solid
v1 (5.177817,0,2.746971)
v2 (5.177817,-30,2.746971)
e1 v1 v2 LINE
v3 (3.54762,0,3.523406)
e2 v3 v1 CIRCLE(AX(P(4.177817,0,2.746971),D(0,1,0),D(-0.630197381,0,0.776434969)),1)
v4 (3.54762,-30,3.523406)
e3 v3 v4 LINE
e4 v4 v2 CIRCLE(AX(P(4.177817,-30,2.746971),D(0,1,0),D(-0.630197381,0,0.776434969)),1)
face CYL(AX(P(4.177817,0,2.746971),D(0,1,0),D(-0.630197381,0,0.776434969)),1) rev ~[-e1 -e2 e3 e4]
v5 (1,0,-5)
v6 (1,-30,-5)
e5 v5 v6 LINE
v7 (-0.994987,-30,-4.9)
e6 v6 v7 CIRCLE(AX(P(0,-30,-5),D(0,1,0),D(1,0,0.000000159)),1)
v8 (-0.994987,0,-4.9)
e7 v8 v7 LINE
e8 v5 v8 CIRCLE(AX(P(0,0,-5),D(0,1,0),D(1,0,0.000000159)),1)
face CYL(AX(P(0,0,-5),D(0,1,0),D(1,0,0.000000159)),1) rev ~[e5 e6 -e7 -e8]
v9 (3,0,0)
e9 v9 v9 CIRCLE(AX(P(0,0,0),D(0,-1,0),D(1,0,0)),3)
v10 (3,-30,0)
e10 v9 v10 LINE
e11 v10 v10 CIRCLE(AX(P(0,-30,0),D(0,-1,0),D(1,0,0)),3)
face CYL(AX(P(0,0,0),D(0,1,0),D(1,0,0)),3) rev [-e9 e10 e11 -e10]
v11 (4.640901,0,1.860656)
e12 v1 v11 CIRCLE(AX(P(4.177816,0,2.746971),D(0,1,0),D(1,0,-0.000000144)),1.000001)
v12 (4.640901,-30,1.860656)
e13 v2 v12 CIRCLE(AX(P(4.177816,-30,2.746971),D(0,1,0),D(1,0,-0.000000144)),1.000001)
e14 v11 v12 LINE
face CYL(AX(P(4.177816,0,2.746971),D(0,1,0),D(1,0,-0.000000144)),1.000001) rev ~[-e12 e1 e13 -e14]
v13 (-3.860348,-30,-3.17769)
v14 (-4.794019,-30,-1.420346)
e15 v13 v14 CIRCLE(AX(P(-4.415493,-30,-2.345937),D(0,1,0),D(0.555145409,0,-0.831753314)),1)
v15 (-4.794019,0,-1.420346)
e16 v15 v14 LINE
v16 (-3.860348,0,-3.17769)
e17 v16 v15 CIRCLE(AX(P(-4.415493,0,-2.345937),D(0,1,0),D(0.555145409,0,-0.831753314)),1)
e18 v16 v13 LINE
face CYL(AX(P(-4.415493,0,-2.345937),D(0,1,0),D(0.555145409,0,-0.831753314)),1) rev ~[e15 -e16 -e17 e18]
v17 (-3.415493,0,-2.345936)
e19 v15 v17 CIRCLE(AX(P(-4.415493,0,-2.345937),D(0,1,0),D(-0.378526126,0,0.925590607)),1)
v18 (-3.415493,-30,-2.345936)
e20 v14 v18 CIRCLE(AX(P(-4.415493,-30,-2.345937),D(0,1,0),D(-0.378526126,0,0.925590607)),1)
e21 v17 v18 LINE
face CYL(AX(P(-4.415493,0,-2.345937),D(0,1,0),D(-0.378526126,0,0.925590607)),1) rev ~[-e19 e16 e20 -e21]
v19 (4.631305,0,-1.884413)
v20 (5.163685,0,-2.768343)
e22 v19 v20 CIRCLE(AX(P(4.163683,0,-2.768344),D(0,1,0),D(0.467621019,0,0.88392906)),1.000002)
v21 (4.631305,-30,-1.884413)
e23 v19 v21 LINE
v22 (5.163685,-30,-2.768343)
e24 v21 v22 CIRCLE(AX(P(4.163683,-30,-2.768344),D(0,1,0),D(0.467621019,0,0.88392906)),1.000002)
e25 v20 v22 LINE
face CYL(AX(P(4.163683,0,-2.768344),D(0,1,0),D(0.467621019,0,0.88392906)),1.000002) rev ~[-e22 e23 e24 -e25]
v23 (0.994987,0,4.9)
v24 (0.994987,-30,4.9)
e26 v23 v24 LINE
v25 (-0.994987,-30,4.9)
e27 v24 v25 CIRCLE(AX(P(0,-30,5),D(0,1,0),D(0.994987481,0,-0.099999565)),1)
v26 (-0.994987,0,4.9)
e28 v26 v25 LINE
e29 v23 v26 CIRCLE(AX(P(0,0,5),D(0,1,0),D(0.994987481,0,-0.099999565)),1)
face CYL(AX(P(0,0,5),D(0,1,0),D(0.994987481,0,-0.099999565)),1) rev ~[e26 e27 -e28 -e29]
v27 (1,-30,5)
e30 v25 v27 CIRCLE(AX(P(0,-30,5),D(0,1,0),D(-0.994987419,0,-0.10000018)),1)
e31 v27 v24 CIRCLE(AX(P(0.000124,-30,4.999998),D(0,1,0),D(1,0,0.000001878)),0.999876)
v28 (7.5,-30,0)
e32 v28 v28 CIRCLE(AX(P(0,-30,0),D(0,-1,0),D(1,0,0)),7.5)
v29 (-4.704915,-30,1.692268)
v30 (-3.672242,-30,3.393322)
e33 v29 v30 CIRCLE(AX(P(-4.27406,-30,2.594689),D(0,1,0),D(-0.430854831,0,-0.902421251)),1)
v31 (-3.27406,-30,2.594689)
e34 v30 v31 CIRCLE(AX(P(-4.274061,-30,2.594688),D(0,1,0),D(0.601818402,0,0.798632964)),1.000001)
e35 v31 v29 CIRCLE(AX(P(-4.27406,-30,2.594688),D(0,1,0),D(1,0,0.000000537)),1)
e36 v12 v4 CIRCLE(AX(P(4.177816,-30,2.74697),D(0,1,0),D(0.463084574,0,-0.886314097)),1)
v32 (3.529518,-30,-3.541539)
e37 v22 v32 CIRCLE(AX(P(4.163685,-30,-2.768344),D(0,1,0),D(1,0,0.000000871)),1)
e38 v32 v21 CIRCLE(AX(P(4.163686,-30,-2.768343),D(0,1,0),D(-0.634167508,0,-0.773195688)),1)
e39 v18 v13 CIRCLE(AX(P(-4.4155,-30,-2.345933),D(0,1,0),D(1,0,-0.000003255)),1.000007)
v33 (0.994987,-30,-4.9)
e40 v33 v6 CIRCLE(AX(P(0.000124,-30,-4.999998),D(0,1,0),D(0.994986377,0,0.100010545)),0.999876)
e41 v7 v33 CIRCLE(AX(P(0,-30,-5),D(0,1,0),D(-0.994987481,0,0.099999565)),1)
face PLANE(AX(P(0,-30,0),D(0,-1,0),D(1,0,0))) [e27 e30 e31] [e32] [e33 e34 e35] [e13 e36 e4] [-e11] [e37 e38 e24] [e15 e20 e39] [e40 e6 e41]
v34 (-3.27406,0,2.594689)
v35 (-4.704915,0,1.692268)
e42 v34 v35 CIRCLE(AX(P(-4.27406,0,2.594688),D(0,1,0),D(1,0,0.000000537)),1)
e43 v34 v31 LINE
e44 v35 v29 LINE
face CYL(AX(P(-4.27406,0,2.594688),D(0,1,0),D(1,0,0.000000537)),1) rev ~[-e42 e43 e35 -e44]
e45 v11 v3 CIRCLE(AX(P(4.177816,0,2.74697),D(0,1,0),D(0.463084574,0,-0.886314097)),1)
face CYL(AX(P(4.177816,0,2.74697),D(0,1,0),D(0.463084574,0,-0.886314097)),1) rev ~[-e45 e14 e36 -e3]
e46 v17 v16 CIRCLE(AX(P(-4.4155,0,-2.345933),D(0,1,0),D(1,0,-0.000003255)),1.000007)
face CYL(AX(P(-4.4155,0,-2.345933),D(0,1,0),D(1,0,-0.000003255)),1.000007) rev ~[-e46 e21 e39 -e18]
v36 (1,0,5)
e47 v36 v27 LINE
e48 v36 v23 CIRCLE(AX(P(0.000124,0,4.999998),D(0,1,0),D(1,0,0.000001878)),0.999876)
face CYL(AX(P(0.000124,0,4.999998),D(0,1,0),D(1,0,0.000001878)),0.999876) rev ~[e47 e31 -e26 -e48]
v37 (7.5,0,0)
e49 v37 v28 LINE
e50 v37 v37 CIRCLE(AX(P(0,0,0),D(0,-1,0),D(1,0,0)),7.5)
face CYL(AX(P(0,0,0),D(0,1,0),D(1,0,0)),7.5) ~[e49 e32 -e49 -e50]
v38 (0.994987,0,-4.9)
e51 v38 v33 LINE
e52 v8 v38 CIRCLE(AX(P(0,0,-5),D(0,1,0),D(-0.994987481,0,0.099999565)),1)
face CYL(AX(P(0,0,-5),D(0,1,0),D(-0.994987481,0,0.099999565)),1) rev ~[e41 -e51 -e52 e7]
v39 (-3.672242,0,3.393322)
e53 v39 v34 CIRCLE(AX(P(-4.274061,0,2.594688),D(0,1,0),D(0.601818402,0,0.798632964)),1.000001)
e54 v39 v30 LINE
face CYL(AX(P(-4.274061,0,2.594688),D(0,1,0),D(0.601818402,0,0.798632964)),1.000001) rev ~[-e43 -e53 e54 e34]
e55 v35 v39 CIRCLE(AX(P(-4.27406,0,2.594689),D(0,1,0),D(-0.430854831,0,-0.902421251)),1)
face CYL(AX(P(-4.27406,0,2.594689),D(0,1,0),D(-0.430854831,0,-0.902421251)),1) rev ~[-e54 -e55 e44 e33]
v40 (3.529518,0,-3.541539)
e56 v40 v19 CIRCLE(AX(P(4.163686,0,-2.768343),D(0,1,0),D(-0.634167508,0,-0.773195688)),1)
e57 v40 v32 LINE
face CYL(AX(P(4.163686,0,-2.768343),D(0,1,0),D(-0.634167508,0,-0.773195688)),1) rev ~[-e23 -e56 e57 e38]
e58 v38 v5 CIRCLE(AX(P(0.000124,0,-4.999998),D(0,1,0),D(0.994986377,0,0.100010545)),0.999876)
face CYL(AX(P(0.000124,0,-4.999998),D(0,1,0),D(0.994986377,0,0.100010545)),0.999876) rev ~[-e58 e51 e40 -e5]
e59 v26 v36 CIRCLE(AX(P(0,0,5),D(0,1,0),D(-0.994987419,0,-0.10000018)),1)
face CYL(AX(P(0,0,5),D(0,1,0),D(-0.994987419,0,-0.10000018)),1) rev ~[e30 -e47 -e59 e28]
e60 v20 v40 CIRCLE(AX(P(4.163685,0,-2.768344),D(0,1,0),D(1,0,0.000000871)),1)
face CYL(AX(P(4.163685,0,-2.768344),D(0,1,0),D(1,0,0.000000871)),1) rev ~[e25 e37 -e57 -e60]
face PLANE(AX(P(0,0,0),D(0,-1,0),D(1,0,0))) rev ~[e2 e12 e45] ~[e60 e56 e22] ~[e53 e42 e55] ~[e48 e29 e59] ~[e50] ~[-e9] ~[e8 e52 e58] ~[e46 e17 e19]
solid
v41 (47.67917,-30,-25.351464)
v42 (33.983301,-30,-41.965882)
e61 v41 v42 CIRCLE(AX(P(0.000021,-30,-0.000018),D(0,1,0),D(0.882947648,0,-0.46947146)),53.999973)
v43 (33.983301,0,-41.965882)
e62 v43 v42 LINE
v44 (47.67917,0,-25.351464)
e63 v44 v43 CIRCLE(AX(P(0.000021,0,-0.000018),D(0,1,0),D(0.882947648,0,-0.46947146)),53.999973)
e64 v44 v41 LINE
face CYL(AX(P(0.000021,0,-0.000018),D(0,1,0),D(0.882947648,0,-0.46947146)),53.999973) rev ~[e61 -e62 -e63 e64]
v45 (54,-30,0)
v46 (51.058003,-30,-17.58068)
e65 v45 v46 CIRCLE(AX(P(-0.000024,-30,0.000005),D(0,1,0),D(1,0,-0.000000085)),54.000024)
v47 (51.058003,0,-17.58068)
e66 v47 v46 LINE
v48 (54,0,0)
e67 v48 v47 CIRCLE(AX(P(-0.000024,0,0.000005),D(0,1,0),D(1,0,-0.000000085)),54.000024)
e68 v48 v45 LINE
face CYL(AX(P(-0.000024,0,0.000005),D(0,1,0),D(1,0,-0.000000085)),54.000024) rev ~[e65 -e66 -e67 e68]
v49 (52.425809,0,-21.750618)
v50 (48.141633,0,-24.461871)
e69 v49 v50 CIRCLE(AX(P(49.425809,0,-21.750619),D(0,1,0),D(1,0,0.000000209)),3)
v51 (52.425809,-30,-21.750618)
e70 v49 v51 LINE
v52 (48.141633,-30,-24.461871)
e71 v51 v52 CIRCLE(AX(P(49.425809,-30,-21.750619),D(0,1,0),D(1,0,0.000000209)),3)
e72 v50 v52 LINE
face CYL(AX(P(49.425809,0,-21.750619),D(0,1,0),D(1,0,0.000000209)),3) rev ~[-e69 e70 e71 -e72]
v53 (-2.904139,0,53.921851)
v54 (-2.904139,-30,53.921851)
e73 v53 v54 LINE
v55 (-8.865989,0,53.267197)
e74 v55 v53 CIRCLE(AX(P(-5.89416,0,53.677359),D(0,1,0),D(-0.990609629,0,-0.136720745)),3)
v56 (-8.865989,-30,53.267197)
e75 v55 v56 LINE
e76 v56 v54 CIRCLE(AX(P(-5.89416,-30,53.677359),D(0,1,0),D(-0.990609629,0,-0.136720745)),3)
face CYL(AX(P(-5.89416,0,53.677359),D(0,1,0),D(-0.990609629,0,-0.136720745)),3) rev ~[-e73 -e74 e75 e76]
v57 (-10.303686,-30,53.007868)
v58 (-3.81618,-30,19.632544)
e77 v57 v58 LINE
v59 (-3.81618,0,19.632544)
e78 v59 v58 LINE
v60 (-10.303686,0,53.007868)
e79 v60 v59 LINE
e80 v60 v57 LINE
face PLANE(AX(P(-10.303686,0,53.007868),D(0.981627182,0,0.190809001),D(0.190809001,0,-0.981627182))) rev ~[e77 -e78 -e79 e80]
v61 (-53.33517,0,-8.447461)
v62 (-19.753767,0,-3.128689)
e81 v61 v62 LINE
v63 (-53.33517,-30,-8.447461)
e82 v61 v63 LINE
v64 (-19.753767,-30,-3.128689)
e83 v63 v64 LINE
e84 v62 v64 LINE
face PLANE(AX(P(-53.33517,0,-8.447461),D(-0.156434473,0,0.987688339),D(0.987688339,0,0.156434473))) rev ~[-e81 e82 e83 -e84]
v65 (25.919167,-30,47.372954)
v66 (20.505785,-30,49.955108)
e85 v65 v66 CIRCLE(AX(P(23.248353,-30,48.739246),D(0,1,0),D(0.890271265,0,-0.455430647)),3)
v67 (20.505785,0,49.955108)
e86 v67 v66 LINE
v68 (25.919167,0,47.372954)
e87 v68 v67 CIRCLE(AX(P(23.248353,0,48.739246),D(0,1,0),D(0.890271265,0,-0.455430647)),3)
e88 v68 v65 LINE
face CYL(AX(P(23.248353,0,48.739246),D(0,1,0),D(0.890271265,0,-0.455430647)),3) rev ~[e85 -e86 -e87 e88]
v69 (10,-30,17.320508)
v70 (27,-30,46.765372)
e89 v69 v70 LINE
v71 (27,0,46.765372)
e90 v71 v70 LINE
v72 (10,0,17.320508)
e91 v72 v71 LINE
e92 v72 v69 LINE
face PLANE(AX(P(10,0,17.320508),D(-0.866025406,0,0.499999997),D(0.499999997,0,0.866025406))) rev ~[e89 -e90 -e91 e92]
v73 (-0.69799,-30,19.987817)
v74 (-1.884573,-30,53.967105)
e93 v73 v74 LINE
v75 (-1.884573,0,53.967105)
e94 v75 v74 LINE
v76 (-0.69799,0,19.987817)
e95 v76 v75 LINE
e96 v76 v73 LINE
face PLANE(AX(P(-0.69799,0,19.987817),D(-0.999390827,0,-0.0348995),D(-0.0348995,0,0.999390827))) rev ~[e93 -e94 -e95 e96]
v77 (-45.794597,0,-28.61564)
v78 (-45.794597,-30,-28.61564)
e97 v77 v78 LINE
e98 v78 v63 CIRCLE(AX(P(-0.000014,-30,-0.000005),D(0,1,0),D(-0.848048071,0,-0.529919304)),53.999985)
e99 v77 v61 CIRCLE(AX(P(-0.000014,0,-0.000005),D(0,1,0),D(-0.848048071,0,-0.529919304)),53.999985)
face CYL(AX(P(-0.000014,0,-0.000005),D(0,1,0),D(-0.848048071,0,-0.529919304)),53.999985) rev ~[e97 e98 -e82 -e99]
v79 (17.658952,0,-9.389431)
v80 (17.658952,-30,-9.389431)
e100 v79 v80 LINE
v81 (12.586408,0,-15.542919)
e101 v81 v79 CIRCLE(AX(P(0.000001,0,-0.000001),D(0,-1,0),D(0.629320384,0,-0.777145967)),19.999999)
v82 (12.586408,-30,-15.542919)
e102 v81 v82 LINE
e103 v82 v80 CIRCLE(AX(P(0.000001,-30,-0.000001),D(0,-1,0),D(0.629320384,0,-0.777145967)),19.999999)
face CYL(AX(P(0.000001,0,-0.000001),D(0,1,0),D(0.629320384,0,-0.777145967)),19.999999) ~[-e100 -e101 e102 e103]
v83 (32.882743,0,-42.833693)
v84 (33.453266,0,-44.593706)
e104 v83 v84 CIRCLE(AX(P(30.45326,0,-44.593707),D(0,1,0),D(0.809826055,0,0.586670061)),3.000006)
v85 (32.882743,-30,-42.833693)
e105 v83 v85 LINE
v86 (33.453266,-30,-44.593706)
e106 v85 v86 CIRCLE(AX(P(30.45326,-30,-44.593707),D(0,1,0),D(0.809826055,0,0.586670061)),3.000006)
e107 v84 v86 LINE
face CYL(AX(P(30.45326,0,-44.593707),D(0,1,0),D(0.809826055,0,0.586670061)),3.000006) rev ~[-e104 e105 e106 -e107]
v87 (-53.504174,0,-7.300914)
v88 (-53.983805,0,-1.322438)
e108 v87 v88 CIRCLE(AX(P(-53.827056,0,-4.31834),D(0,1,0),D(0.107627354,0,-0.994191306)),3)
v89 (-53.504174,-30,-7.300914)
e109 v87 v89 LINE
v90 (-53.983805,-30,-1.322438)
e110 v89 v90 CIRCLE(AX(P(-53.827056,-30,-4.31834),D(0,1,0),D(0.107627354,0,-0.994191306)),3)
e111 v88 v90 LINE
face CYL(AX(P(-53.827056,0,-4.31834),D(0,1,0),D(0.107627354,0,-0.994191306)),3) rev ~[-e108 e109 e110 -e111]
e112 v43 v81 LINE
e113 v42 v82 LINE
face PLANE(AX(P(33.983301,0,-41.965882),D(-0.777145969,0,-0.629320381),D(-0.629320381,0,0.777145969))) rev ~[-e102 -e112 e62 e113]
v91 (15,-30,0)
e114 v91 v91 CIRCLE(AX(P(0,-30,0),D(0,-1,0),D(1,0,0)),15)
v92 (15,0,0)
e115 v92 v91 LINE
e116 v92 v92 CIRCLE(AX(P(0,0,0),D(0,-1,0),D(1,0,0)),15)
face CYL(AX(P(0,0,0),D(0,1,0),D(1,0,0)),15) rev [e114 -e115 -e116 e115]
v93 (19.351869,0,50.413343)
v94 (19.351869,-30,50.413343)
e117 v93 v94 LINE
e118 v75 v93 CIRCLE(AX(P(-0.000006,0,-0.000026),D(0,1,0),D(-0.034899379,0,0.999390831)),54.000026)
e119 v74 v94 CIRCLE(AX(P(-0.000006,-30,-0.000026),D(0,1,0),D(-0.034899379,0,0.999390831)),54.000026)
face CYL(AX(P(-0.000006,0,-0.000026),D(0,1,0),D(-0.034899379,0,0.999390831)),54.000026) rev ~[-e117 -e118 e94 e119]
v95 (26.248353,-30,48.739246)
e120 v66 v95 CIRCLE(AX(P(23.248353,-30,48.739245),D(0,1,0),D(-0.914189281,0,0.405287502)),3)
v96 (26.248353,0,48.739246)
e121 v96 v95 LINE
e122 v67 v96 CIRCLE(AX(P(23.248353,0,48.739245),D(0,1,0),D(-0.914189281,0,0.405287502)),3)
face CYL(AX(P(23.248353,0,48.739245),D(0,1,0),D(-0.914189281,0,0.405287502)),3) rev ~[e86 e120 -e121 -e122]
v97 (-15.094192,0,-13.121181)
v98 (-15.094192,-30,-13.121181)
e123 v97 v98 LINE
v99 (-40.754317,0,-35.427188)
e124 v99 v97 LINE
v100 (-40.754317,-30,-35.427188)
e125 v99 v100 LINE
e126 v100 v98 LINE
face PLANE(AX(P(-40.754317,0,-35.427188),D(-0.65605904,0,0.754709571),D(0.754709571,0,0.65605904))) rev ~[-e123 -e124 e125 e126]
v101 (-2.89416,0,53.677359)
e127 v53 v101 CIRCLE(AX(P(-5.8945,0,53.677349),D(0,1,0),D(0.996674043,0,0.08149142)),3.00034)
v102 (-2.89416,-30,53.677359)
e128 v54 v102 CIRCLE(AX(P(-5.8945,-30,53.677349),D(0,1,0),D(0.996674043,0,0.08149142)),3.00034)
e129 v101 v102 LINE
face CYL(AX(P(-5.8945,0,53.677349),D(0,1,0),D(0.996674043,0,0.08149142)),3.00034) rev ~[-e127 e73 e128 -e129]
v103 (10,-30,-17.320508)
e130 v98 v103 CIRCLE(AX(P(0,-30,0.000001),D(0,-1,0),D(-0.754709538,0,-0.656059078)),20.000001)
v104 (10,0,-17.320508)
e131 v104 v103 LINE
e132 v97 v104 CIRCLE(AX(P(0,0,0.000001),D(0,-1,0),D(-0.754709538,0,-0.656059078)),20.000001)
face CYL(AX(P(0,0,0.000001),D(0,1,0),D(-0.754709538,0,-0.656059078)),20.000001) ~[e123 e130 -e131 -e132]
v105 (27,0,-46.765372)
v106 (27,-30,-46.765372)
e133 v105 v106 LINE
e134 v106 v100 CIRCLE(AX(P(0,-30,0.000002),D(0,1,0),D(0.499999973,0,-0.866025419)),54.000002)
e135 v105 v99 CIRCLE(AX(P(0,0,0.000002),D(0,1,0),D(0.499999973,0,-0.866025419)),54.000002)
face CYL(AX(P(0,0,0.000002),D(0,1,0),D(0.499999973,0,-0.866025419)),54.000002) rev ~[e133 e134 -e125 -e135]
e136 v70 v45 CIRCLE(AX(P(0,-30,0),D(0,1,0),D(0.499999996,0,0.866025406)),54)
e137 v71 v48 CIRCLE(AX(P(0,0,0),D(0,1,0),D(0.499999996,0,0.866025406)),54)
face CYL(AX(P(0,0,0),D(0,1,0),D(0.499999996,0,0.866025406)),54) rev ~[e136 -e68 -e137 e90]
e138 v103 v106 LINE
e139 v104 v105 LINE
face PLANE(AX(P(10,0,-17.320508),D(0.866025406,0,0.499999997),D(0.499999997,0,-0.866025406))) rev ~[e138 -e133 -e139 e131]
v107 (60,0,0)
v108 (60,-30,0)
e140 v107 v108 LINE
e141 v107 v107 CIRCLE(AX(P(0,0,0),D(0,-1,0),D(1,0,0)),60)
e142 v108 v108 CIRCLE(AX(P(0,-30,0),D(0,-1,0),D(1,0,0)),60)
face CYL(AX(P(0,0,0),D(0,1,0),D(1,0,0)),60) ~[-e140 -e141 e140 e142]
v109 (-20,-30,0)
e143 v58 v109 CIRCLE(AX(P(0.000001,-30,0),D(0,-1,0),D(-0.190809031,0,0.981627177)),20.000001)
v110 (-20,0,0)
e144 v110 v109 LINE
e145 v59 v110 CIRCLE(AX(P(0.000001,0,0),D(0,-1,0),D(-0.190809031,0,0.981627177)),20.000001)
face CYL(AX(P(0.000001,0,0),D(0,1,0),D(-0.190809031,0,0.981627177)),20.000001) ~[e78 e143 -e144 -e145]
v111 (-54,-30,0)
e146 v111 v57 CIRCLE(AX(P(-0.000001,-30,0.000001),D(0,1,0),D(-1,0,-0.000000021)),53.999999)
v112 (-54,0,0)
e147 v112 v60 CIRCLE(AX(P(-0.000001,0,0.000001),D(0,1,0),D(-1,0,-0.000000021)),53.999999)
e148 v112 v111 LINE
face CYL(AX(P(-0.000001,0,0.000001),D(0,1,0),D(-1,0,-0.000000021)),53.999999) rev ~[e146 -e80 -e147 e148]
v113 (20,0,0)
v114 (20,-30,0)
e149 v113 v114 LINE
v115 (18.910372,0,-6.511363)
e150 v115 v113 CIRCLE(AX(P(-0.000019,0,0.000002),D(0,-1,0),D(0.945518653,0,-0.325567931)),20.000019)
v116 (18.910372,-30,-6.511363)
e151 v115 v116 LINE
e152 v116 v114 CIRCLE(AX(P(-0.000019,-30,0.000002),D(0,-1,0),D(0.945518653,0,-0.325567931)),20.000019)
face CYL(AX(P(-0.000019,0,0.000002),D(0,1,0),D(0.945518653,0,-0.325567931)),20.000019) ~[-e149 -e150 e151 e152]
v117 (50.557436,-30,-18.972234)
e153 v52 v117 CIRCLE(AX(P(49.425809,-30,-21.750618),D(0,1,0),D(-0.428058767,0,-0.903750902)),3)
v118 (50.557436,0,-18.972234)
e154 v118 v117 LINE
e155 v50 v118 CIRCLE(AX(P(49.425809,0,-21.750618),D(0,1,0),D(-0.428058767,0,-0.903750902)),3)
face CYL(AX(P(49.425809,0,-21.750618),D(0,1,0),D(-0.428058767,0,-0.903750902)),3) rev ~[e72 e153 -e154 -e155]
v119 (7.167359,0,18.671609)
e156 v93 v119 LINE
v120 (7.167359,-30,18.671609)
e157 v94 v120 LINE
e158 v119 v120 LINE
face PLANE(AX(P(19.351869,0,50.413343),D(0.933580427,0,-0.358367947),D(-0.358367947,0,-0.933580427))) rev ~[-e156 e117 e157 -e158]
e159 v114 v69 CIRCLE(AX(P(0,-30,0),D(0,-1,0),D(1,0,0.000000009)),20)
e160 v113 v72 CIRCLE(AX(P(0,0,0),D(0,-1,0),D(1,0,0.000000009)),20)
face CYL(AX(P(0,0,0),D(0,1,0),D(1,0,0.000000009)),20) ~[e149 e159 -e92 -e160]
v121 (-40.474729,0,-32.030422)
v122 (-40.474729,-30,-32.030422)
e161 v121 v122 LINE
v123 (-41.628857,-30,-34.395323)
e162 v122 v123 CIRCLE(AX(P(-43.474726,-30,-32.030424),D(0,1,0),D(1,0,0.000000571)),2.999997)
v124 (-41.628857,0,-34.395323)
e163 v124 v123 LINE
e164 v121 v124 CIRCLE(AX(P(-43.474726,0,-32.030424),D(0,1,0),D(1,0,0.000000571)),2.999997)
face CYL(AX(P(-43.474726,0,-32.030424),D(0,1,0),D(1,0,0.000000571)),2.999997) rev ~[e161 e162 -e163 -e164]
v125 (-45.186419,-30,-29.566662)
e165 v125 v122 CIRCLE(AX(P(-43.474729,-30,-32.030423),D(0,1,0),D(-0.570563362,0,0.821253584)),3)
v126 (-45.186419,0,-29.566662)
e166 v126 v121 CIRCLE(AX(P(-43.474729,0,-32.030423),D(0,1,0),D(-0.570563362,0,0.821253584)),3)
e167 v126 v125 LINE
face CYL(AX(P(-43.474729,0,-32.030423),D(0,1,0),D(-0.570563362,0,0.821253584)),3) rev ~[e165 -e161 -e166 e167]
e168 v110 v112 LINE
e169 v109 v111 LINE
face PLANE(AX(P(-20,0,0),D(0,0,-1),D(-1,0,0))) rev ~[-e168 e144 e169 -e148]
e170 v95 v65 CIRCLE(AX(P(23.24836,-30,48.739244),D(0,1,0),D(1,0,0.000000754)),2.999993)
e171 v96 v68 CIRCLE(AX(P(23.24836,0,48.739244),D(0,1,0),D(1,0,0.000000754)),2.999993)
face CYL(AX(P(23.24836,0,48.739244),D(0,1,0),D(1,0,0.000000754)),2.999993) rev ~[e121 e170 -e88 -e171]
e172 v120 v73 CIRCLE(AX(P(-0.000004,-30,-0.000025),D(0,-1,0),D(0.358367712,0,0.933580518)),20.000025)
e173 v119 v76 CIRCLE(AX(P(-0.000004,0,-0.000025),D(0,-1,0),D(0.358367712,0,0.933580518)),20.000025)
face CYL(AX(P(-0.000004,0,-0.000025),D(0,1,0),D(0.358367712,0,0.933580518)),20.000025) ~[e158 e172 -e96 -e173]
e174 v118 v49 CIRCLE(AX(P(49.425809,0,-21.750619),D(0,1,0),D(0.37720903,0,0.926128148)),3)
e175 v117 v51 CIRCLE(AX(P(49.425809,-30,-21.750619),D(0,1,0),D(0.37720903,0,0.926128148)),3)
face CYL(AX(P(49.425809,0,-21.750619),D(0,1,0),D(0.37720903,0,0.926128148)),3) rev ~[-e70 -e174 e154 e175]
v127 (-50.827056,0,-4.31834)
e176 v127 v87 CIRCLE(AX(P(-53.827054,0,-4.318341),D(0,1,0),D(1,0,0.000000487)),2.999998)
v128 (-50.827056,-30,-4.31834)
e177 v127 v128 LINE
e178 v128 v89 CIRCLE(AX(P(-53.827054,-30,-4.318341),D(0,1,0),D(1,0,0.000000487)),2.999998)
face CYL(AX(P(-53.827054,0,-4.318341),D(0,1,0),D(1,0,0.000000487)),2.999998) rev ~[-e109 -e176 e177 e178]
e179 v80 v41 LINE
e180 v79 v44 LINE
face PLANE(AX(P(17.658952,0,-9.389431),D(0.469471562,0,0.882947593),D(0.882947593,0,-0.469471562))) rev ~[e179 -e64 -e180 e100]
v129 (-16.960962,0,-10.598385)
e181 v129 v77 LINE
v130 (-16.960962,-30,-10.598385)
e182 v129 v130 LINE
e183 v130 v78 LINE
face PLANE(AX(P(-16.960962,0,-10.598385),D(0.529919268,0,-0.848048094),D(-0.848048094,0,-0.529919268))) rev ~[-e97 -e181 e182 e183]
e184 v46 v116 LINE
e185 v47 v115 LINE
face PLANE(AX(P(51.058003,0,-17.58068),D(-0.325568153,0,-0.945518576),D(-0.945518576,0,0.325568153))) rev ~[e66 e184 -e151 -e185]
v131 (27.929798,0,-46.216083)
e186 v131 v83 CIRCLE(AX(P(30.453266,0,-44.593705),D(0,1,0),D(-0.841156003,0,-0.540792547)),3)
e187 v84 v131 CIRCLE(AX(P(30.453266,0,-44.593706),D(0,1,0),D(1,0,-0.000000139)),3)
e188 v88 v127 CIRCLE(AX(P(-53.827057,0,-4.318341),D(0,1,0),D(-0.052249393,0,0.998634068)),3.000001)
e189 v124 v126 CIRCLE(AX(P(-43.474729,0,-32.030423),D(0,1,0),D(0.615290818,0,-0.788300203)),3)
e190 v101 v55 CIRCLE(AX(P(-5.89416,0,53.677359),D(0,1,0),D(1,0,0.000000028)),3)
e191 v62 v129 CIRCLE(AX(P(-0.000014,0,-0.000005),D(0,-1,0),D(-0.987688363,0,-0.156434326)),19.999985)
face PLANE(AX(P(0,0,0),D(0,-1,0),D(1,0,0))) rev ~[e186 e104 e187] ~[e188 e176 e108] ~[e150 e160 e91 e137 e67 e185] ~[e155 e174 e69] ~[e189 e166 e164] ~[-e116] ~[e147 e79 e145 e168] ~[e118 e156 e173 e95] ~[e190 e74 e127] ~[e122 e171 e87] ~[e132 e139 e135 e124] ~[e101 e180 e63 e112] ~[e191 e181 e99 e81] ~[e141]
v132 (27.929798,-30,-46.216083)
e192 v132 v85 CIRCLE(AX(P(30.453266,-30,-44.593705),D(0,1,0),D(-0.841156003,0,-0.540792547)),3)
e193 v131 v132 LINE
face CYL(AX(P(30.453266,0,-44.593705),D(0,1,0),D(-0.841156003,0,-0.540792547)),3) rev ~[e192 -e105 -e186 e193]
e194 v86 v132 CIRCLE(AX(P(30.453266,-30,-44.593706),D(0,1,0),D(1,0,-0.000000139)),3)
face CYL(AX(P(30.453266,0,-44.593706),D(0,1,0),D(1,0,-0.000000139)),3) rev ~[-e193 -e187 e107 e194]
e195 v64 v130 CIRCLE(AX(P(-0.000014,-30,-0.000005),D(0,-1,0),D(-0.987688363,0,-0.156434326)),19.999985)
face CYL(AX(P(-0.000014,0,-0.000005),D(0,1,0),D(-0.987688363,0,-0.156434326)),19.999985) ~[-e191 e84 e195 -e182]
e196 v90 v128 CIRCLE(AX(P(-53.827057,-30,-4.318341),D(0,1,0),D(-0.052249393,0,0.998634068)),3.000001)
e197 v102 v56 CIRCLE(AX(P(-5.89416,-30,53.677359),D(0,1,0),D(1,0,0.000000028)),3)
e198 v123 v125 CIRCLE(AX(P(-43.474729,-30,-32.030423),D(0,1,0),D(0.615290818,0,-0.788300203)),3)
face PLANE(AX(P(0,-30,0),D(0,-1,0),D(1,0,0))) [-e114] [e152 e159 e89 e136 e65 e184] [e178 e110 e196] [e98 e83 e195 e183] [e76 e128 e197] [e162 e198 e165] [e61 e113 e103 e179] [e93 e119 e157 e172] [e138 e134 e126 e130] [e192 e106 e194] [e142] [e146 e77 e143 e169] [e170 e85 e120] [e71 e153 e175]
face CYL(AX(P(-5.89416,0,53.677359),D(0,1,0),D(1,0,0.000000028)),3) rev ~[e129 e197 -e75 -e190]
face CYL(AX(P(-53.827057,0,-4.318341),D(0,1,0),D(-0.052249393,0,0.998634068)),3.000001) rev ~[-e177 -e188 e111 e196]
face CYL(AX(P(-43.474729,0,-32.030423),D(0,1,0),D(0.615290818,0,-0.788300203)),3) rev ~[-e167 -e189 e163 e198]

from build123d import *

# Parameters (mm, degrees)
F0_R     = 60
F0_R_2   = 15
F0_R_3   = 7.5
F0_R_4   = 3
F1_DEPTH = 30


with BuildPart() as f1:
    # F0 (on Front) → F1 (new body)
    with BuildSketch(Plane.XZ):
        Circle(F0_R)
        with BuildLine():
            ThreePointArc((27, 46.765372), (46.765372, 27), (54, 0))
            ThreePointArc((54, 0), (53.259422, -8.912571), (51.058003, -17.58068))
            ThreePointArc((51.058003, -17.58068), (50.812483, -18.278171), (50.557436, -18.972234))
            ThreePointArc((50.557436, -18.972234), (51.915275, -20.076534), (52.425809, -21.750618))
            ThreePointArc((52.425809, -21.750618), (51.030096, -24.285626), (48.141633, -24.461871))
            ThreePointArc((48.141633, -24.461871), (47.912466, -24.907741), (47.67917, -25.351464))
            ThreePointArc((47.67917, -25.351464), (41.667728, -34.348224), (33.983301, -41.965882))
            ThreePointArc((33.983301, -41.965882), (33.435837, -42.403358), (32.882743, -42.833693))
            ThreePointArc((32.882743, -42.833693), (33.307073, -43.668619), (33.453266, -44.593706))
            ThreePointArc((33.453266, -44.593706), (31.298724, -47.472108), (27.929798, -46.216083))
            ThreePointArc((27.929798, -46.216083), (27.466272, -46.493052), (27, -46.765372))
            ThreePointArc((27, -46.765372), (-8.912571, -53.259422), (-40.754317, -35.427188))
            ThreePointArc((-40.754317, -35.427188), (-41.194818, -34.913994), (-41.628857, -34.395323))
            ThreePointArc((-41.628857, -34.395323), (-45.889992, -33.80989), (-45.186419, -29.566662))
            ThreePointArc((-45.186419, -29.566662), (-45.492993, -29.09274), (-45.794597, -28.61564))
            ThreePointArc((-45.794597, -28.61564), (-50.580298, -18.911199), (-53.33517, -8.447461))
            ThreePointArc((-53.33517, -8.447461), (-53.422748, -7.874641), (-53.504174, -7.300914))
            ThreePointArc((-53.504174, -7.300914), (-56.817448, -4.558248), (-53.983805, -1.322438))
            ThreePointArc((-53.983805, -1.322438), (-53.995951, -0.661269), (-54, 0))
            ThreePointArc((-54, 0), (-41.667728, 34.348224), (-10.303686, 53.007868))
            ThreePointArc((-10.303686, 53.007868), (-9.585714, 53.142394), (-8.865989, 53.267197))
            ThreePointArc((-8.865989, 53.267197), (-6.221613, 56.659435), (-2.904139, 53.921851))
            ThreePointArc((-2.904139, 53.921851), (-2.394463, 53.946886), (-1.884573, 53.967105))
            ThreePointArc((-1.884573, 53.967105), (8.912571, 53.259422), (19.351869, 50.413343))
            ThreePointArc((19.351869, 50.413343), (19.930144, 50.187542), (20.505785, 49.955108))
            ThreePointArc((20.505785, 49.955108), (23.869761, 51.674182), (26.248353, 48.739246))
            ThreePointArc((26.248353, 48.739246), (26.164896, 48.036552), (25.919167, 47.372954))
            ThreePointArc((25.919167, 47.372954), (26.461327, 47.072265), (27, 46.765372))
        make_face(mode=Mode.SUBTRACT)
        with BuildLine():
            ThreePointArc((-19.753767, -3.128689), (-19.938347, -1.569182), (-20, 0))
            Line((-20, 0), (-54, 0))
            ThreePointArc((-54, 0), (-53.995951, -0.661269), (-53.983805, -1.322438))
            ThreePointArc((-53.983805, -1.322438), (-51.761898, -2.142307), (-50.827056, -4.31834))
            ThreePointArc((-50.827056, -4.31834), (-51.594496, -6.322256), (-53.504174, -7.300914))
            ThreePointArc((-53.504174, -7.300914), (-53.422748, -7.874641), (-53.33517, -8.447461))
            Line((-53.33517, -8.447461), (-19.753767, -3.128689))
        make_face()
        with BuildLine():
            Line((-40.754317, -35.427188), (-15.094192, -13.121181))
            ThreePointArc((-15.094192, -13.121181), (-16.077137, -11.896456), (-16.960962, -10.598385))
            Line((-16.960962, -10.598385), (-45.794597, -28.61564))
            ThreePointArc((-45.794597, -28.61564), (-45.492993, -29.09274), (-45.186419, -29.566662))
            ThreePointArc((-45.186419, -29.566662), (-42.084598, -29.371939), (-40.474729, -32.030422))
            ThreePointArc((-40.474729, -32.030422), (-40.778656, -33.34617), (-41.628857, -34.395323))
            ThreePointArc((-41.628857, -34.395323), (-41.194818, -34.913994), (-40.754317, -35.427188))
        make_face()
        with BuildLine():
            Line((33.983301, -41.965882), (12.586408, -15.542919))
            ThreePointArc((12.586408, -15.542919), (11.328125, -16.482524), (10, -17.320508))
            Line((10, -17.320508), (27, -46.765372))
            ThreePointArc((27, -46.765372), (27.466272, -46.493052), (27.929798, -46.216083))
            ThreePointArc((27.929798, -46.216083), (28.761418, -42.116277), (32.882743, -42.833693))
            ThreePointArc((32.882743, -42.833693), (33.435837, -42.403358), (33.983301, -41.965882))
        make_face()
        with BuildLine():
            ThreePointArc((50.557436, -18.972234), (50.812483, -18.278171), (51.058003, -17.58068))
            Line((51.058003, -17.58068), (18.910372, -6.511363))
            ThreePointArc((18.910372, -6.511363), (18.341201, -7.974981), (17.658952, -9.389431))
            Line((17.658952, -9.389431), (47.67917, -25.351464))
            ThreePointArc((47.67917, -25.351464), (47.912466, -24.907741), (48.141633, -24.461871))
            ThreePointArc((48.141633, -24.461871), (46.679931, -20.542251), (50.557436, -18.972234))
        make_face()
        with BuildLine():
            Line((10, 17.320508), (27, 46.765372))
            ThreePointArc((27, 46.765372), (26.461327, 47.072265), (25.919167, 47.372954))
            ThreePointArc((25.919167, 47.372954), (21.956778, 46.03151), (20.505785, 49.955108))
            ThreePointArc((20.505785, 49.955108), (19.930144, 50.187542), (19.351869, 50.413343))
            Line((19.351869, 50.413343), (7.167359, 18.671609))
            ThreePointArc((7.167359, 18.671609), (8.610222, 18.051706), (10, 17.320508))
        make_face()
        with BuildLine():
            ThreePointArc((-3.81618, 19.632544), (-2.264064, 19.871437), (-0.69799, 19.987817))
            Line((-0.69799, 19.987817), (-1.884573, 53.967105))
            ThreePointArc((-1.884573, 53.967105), (-2.394463, 53.946886), (-2.904139, 53.921851))
            ThreePointArc((-2.904139, 53.921851), (-2.896656, 53.799707), (-2.89416, 53.677359))
            ThreePointArc((-2.89416, 53.677359), (-5.688595, 50.68441), (-8.865989, 53.267197))
            ThreePointArc((-8.865989, 53.267197), (-9.585714, 53.142394), (-10.303686, 53.007868))
            Line((-10.303686, 53.007868), (-3.81618, 19.632544))
        make_face()
        with BuildLine():
            ThreePointArc((20, 0), (17.320508, 10), (10, 17.320508))
            ThreePointArc((10, 17.320508), (8.610222, 18.051706), (7.167359, 18.671609))
            ThreePointArc((7.167359, 18.671609), (3.300952, 19.725712), (-0.69799, 19.987817))
            ThreePointArc((-0.69799, 19.987817), (-2.264064, 19.871437), (-3.81618, 19.632544))
            ThreePointArc((-3.81618, 19.632544), (-15.432492, 12.721564), (-20, 0))
            ThreePointArc((-20, 0), (-19.938347, -1.569182), (-19.753767, -3.128689))
            ThreePointArc((-19.753767, -3.128689), (-18.733444, -7.004148), (-16.960962, -10.598385))
            ThreePointArc((-16.960962, -10.598385), (-16.077137, -11.896456), (-15.094192, -13.121181))
            ThreePointArc((-15.094192, -13.121181), (-3.300952, -19.725712), (10, -17.320508))
            ThreePointArc((10, -17.320508), (11.328125, -16.482524), (12.586408, -15.542919))
            ThreePointArc((12.586408, -15.542919), (15.432492, -12.721564), (17.658952, -9.389431))
            ThreePointArc((17.658952, -9.389431), (18.341201, -7.974981), (18.910372, -6.511363))
            ThreePointArc((18.910372, -6.511363), (19.725712, -3.300952), (20, 0))
        make_face()
        Circle(F0_R_2, mode=Mode.SUBTRACT)
        Circle(F0_R_3)
        with BuildLine():
            ThreePointArc((4.640901, 1.860656), (4.909404, 0.947496), (5, 0))
            ThreePointArc((5, 0), (4.906961, -0.960072), (4.631305, -1.884413))
            ThreePointArc((4.631305, -1.884413), (5.020312, -2.252407), (5.163685, -2.768343))
            ThreePointArc((5.163685, -2.768343), (4.591373, -3.67227), (3.529518, -3.541539))
            ThreePointArc((3.529518, -3.541539), (2.362021, -4.40691), (0.994987, -4.9))
            ThreePointArc((0.994987, -4.9), (0.998746, -4.949937), (1, -5))
            ThreePointArc((1, -5), (-0.050063, -5.998746), (-0.994987, -4.9))
            ThreePointArc((-0.994987, -4.9), (-2.57588, -4.285422), (-3.860348, -3.17769))
            ThreePointArc((-3.860348, -3.17769), (-5.298592, -2.815124), (-4.794019, -1.420346))
            ThreePointArc((-4.794019, -1.420346), (-4.997953, 0.143075), (-4.704915, 1.692268))
            ThreePointArc((-4.704915, 1.692268), (-5.128872, 3.113627), (-3.672242, 3.393322))
            ThreePointArc((-3.672242, 3.393322), (-2.452199, 4.357376), (-0.994987, 4.9))
            ThreePointArc((-0.994987, 4.9), (-0.050063, 5.998746), (1, 5))
            ThreePointArc((1, 5), (0.998746, 4.949937), (0.994987, 4.9))
            ThreePointArc((0.994987, 4.9), (2.373304, 4.400844), (3.54762, 3.523406))
            ThreePointArc((3.54762, 3.523406), (4.607819, 3.649799), (5.177817, 2.746971))
            ThreePointArc((5.177817, 2.746971), (5.033119, 2.228841), (4.640901, 1.860656))
        make_face(mode=Mode.SUBTRACT)
        with BuildLine():
            ThreePointArc((4.631305, -1.884413), (4.906961, -0.960072), (5, 0))
            ThreePointArc((5, 0), (4.909404, 0.947496), (4.640901, 1.860656))
            ThreePointArc((4.640901, 1.860656), (3.342253, 2.197576), (3.54762, 3.523406))
            ThreePointArc((3.54762, 3.523406), (2.373304, 4.400844), (0.994987, 4.9))
            ThreePointArc((0.994987, 4.9), (0, 4), (-0.994987, 4.9))
            ThreePointArc((-0.994987, 4.9), (-2.452199, 4.357376), (-3.672242, 3.393322))
            ThreePointArc((-3.672242, 3.393322), (-3.379125, 3.040885), (-3.27406, 2.594689))
            ThreePointArc((-3.27406, 2.594689), (-3.740607, 1.748859), (-4.704915, 1.692268))
            ThreePointArc((-4.704915, 1.692268), (-4.997953, 0.143075), (-4.794019, -1.420346))
            ThreePointArc((-4.794019, -1.420346), (-3.858055, -1.515718), (-3.415493, -2.345936))
            ThreePointArc((-3.415493, -2.345936), (-3.533693, -2.817558), (-3.860348, -3.17769))
            ThreePointArc((-3.860348, -3.17769), (-2.57588, -4.285422), (-0.994987, -4.9))
            ThreePointArc((-0.994987, -4.9), (0, -4), (0.994987, -4.9))
            ThreePointArc((0.994987, -4.9), (2.362021, -4.40691), (3.529518, -3.541539))
            ThreePointArc((3.529518, -3.541539), (3.330948, -2.214675), (4.631305, -1.884413))
        make_face()
        Circle(F0_R_4, mode=Mode.SUBTRACT)
    extrude(amount=F1_DEPTH)


solid = f1.part
